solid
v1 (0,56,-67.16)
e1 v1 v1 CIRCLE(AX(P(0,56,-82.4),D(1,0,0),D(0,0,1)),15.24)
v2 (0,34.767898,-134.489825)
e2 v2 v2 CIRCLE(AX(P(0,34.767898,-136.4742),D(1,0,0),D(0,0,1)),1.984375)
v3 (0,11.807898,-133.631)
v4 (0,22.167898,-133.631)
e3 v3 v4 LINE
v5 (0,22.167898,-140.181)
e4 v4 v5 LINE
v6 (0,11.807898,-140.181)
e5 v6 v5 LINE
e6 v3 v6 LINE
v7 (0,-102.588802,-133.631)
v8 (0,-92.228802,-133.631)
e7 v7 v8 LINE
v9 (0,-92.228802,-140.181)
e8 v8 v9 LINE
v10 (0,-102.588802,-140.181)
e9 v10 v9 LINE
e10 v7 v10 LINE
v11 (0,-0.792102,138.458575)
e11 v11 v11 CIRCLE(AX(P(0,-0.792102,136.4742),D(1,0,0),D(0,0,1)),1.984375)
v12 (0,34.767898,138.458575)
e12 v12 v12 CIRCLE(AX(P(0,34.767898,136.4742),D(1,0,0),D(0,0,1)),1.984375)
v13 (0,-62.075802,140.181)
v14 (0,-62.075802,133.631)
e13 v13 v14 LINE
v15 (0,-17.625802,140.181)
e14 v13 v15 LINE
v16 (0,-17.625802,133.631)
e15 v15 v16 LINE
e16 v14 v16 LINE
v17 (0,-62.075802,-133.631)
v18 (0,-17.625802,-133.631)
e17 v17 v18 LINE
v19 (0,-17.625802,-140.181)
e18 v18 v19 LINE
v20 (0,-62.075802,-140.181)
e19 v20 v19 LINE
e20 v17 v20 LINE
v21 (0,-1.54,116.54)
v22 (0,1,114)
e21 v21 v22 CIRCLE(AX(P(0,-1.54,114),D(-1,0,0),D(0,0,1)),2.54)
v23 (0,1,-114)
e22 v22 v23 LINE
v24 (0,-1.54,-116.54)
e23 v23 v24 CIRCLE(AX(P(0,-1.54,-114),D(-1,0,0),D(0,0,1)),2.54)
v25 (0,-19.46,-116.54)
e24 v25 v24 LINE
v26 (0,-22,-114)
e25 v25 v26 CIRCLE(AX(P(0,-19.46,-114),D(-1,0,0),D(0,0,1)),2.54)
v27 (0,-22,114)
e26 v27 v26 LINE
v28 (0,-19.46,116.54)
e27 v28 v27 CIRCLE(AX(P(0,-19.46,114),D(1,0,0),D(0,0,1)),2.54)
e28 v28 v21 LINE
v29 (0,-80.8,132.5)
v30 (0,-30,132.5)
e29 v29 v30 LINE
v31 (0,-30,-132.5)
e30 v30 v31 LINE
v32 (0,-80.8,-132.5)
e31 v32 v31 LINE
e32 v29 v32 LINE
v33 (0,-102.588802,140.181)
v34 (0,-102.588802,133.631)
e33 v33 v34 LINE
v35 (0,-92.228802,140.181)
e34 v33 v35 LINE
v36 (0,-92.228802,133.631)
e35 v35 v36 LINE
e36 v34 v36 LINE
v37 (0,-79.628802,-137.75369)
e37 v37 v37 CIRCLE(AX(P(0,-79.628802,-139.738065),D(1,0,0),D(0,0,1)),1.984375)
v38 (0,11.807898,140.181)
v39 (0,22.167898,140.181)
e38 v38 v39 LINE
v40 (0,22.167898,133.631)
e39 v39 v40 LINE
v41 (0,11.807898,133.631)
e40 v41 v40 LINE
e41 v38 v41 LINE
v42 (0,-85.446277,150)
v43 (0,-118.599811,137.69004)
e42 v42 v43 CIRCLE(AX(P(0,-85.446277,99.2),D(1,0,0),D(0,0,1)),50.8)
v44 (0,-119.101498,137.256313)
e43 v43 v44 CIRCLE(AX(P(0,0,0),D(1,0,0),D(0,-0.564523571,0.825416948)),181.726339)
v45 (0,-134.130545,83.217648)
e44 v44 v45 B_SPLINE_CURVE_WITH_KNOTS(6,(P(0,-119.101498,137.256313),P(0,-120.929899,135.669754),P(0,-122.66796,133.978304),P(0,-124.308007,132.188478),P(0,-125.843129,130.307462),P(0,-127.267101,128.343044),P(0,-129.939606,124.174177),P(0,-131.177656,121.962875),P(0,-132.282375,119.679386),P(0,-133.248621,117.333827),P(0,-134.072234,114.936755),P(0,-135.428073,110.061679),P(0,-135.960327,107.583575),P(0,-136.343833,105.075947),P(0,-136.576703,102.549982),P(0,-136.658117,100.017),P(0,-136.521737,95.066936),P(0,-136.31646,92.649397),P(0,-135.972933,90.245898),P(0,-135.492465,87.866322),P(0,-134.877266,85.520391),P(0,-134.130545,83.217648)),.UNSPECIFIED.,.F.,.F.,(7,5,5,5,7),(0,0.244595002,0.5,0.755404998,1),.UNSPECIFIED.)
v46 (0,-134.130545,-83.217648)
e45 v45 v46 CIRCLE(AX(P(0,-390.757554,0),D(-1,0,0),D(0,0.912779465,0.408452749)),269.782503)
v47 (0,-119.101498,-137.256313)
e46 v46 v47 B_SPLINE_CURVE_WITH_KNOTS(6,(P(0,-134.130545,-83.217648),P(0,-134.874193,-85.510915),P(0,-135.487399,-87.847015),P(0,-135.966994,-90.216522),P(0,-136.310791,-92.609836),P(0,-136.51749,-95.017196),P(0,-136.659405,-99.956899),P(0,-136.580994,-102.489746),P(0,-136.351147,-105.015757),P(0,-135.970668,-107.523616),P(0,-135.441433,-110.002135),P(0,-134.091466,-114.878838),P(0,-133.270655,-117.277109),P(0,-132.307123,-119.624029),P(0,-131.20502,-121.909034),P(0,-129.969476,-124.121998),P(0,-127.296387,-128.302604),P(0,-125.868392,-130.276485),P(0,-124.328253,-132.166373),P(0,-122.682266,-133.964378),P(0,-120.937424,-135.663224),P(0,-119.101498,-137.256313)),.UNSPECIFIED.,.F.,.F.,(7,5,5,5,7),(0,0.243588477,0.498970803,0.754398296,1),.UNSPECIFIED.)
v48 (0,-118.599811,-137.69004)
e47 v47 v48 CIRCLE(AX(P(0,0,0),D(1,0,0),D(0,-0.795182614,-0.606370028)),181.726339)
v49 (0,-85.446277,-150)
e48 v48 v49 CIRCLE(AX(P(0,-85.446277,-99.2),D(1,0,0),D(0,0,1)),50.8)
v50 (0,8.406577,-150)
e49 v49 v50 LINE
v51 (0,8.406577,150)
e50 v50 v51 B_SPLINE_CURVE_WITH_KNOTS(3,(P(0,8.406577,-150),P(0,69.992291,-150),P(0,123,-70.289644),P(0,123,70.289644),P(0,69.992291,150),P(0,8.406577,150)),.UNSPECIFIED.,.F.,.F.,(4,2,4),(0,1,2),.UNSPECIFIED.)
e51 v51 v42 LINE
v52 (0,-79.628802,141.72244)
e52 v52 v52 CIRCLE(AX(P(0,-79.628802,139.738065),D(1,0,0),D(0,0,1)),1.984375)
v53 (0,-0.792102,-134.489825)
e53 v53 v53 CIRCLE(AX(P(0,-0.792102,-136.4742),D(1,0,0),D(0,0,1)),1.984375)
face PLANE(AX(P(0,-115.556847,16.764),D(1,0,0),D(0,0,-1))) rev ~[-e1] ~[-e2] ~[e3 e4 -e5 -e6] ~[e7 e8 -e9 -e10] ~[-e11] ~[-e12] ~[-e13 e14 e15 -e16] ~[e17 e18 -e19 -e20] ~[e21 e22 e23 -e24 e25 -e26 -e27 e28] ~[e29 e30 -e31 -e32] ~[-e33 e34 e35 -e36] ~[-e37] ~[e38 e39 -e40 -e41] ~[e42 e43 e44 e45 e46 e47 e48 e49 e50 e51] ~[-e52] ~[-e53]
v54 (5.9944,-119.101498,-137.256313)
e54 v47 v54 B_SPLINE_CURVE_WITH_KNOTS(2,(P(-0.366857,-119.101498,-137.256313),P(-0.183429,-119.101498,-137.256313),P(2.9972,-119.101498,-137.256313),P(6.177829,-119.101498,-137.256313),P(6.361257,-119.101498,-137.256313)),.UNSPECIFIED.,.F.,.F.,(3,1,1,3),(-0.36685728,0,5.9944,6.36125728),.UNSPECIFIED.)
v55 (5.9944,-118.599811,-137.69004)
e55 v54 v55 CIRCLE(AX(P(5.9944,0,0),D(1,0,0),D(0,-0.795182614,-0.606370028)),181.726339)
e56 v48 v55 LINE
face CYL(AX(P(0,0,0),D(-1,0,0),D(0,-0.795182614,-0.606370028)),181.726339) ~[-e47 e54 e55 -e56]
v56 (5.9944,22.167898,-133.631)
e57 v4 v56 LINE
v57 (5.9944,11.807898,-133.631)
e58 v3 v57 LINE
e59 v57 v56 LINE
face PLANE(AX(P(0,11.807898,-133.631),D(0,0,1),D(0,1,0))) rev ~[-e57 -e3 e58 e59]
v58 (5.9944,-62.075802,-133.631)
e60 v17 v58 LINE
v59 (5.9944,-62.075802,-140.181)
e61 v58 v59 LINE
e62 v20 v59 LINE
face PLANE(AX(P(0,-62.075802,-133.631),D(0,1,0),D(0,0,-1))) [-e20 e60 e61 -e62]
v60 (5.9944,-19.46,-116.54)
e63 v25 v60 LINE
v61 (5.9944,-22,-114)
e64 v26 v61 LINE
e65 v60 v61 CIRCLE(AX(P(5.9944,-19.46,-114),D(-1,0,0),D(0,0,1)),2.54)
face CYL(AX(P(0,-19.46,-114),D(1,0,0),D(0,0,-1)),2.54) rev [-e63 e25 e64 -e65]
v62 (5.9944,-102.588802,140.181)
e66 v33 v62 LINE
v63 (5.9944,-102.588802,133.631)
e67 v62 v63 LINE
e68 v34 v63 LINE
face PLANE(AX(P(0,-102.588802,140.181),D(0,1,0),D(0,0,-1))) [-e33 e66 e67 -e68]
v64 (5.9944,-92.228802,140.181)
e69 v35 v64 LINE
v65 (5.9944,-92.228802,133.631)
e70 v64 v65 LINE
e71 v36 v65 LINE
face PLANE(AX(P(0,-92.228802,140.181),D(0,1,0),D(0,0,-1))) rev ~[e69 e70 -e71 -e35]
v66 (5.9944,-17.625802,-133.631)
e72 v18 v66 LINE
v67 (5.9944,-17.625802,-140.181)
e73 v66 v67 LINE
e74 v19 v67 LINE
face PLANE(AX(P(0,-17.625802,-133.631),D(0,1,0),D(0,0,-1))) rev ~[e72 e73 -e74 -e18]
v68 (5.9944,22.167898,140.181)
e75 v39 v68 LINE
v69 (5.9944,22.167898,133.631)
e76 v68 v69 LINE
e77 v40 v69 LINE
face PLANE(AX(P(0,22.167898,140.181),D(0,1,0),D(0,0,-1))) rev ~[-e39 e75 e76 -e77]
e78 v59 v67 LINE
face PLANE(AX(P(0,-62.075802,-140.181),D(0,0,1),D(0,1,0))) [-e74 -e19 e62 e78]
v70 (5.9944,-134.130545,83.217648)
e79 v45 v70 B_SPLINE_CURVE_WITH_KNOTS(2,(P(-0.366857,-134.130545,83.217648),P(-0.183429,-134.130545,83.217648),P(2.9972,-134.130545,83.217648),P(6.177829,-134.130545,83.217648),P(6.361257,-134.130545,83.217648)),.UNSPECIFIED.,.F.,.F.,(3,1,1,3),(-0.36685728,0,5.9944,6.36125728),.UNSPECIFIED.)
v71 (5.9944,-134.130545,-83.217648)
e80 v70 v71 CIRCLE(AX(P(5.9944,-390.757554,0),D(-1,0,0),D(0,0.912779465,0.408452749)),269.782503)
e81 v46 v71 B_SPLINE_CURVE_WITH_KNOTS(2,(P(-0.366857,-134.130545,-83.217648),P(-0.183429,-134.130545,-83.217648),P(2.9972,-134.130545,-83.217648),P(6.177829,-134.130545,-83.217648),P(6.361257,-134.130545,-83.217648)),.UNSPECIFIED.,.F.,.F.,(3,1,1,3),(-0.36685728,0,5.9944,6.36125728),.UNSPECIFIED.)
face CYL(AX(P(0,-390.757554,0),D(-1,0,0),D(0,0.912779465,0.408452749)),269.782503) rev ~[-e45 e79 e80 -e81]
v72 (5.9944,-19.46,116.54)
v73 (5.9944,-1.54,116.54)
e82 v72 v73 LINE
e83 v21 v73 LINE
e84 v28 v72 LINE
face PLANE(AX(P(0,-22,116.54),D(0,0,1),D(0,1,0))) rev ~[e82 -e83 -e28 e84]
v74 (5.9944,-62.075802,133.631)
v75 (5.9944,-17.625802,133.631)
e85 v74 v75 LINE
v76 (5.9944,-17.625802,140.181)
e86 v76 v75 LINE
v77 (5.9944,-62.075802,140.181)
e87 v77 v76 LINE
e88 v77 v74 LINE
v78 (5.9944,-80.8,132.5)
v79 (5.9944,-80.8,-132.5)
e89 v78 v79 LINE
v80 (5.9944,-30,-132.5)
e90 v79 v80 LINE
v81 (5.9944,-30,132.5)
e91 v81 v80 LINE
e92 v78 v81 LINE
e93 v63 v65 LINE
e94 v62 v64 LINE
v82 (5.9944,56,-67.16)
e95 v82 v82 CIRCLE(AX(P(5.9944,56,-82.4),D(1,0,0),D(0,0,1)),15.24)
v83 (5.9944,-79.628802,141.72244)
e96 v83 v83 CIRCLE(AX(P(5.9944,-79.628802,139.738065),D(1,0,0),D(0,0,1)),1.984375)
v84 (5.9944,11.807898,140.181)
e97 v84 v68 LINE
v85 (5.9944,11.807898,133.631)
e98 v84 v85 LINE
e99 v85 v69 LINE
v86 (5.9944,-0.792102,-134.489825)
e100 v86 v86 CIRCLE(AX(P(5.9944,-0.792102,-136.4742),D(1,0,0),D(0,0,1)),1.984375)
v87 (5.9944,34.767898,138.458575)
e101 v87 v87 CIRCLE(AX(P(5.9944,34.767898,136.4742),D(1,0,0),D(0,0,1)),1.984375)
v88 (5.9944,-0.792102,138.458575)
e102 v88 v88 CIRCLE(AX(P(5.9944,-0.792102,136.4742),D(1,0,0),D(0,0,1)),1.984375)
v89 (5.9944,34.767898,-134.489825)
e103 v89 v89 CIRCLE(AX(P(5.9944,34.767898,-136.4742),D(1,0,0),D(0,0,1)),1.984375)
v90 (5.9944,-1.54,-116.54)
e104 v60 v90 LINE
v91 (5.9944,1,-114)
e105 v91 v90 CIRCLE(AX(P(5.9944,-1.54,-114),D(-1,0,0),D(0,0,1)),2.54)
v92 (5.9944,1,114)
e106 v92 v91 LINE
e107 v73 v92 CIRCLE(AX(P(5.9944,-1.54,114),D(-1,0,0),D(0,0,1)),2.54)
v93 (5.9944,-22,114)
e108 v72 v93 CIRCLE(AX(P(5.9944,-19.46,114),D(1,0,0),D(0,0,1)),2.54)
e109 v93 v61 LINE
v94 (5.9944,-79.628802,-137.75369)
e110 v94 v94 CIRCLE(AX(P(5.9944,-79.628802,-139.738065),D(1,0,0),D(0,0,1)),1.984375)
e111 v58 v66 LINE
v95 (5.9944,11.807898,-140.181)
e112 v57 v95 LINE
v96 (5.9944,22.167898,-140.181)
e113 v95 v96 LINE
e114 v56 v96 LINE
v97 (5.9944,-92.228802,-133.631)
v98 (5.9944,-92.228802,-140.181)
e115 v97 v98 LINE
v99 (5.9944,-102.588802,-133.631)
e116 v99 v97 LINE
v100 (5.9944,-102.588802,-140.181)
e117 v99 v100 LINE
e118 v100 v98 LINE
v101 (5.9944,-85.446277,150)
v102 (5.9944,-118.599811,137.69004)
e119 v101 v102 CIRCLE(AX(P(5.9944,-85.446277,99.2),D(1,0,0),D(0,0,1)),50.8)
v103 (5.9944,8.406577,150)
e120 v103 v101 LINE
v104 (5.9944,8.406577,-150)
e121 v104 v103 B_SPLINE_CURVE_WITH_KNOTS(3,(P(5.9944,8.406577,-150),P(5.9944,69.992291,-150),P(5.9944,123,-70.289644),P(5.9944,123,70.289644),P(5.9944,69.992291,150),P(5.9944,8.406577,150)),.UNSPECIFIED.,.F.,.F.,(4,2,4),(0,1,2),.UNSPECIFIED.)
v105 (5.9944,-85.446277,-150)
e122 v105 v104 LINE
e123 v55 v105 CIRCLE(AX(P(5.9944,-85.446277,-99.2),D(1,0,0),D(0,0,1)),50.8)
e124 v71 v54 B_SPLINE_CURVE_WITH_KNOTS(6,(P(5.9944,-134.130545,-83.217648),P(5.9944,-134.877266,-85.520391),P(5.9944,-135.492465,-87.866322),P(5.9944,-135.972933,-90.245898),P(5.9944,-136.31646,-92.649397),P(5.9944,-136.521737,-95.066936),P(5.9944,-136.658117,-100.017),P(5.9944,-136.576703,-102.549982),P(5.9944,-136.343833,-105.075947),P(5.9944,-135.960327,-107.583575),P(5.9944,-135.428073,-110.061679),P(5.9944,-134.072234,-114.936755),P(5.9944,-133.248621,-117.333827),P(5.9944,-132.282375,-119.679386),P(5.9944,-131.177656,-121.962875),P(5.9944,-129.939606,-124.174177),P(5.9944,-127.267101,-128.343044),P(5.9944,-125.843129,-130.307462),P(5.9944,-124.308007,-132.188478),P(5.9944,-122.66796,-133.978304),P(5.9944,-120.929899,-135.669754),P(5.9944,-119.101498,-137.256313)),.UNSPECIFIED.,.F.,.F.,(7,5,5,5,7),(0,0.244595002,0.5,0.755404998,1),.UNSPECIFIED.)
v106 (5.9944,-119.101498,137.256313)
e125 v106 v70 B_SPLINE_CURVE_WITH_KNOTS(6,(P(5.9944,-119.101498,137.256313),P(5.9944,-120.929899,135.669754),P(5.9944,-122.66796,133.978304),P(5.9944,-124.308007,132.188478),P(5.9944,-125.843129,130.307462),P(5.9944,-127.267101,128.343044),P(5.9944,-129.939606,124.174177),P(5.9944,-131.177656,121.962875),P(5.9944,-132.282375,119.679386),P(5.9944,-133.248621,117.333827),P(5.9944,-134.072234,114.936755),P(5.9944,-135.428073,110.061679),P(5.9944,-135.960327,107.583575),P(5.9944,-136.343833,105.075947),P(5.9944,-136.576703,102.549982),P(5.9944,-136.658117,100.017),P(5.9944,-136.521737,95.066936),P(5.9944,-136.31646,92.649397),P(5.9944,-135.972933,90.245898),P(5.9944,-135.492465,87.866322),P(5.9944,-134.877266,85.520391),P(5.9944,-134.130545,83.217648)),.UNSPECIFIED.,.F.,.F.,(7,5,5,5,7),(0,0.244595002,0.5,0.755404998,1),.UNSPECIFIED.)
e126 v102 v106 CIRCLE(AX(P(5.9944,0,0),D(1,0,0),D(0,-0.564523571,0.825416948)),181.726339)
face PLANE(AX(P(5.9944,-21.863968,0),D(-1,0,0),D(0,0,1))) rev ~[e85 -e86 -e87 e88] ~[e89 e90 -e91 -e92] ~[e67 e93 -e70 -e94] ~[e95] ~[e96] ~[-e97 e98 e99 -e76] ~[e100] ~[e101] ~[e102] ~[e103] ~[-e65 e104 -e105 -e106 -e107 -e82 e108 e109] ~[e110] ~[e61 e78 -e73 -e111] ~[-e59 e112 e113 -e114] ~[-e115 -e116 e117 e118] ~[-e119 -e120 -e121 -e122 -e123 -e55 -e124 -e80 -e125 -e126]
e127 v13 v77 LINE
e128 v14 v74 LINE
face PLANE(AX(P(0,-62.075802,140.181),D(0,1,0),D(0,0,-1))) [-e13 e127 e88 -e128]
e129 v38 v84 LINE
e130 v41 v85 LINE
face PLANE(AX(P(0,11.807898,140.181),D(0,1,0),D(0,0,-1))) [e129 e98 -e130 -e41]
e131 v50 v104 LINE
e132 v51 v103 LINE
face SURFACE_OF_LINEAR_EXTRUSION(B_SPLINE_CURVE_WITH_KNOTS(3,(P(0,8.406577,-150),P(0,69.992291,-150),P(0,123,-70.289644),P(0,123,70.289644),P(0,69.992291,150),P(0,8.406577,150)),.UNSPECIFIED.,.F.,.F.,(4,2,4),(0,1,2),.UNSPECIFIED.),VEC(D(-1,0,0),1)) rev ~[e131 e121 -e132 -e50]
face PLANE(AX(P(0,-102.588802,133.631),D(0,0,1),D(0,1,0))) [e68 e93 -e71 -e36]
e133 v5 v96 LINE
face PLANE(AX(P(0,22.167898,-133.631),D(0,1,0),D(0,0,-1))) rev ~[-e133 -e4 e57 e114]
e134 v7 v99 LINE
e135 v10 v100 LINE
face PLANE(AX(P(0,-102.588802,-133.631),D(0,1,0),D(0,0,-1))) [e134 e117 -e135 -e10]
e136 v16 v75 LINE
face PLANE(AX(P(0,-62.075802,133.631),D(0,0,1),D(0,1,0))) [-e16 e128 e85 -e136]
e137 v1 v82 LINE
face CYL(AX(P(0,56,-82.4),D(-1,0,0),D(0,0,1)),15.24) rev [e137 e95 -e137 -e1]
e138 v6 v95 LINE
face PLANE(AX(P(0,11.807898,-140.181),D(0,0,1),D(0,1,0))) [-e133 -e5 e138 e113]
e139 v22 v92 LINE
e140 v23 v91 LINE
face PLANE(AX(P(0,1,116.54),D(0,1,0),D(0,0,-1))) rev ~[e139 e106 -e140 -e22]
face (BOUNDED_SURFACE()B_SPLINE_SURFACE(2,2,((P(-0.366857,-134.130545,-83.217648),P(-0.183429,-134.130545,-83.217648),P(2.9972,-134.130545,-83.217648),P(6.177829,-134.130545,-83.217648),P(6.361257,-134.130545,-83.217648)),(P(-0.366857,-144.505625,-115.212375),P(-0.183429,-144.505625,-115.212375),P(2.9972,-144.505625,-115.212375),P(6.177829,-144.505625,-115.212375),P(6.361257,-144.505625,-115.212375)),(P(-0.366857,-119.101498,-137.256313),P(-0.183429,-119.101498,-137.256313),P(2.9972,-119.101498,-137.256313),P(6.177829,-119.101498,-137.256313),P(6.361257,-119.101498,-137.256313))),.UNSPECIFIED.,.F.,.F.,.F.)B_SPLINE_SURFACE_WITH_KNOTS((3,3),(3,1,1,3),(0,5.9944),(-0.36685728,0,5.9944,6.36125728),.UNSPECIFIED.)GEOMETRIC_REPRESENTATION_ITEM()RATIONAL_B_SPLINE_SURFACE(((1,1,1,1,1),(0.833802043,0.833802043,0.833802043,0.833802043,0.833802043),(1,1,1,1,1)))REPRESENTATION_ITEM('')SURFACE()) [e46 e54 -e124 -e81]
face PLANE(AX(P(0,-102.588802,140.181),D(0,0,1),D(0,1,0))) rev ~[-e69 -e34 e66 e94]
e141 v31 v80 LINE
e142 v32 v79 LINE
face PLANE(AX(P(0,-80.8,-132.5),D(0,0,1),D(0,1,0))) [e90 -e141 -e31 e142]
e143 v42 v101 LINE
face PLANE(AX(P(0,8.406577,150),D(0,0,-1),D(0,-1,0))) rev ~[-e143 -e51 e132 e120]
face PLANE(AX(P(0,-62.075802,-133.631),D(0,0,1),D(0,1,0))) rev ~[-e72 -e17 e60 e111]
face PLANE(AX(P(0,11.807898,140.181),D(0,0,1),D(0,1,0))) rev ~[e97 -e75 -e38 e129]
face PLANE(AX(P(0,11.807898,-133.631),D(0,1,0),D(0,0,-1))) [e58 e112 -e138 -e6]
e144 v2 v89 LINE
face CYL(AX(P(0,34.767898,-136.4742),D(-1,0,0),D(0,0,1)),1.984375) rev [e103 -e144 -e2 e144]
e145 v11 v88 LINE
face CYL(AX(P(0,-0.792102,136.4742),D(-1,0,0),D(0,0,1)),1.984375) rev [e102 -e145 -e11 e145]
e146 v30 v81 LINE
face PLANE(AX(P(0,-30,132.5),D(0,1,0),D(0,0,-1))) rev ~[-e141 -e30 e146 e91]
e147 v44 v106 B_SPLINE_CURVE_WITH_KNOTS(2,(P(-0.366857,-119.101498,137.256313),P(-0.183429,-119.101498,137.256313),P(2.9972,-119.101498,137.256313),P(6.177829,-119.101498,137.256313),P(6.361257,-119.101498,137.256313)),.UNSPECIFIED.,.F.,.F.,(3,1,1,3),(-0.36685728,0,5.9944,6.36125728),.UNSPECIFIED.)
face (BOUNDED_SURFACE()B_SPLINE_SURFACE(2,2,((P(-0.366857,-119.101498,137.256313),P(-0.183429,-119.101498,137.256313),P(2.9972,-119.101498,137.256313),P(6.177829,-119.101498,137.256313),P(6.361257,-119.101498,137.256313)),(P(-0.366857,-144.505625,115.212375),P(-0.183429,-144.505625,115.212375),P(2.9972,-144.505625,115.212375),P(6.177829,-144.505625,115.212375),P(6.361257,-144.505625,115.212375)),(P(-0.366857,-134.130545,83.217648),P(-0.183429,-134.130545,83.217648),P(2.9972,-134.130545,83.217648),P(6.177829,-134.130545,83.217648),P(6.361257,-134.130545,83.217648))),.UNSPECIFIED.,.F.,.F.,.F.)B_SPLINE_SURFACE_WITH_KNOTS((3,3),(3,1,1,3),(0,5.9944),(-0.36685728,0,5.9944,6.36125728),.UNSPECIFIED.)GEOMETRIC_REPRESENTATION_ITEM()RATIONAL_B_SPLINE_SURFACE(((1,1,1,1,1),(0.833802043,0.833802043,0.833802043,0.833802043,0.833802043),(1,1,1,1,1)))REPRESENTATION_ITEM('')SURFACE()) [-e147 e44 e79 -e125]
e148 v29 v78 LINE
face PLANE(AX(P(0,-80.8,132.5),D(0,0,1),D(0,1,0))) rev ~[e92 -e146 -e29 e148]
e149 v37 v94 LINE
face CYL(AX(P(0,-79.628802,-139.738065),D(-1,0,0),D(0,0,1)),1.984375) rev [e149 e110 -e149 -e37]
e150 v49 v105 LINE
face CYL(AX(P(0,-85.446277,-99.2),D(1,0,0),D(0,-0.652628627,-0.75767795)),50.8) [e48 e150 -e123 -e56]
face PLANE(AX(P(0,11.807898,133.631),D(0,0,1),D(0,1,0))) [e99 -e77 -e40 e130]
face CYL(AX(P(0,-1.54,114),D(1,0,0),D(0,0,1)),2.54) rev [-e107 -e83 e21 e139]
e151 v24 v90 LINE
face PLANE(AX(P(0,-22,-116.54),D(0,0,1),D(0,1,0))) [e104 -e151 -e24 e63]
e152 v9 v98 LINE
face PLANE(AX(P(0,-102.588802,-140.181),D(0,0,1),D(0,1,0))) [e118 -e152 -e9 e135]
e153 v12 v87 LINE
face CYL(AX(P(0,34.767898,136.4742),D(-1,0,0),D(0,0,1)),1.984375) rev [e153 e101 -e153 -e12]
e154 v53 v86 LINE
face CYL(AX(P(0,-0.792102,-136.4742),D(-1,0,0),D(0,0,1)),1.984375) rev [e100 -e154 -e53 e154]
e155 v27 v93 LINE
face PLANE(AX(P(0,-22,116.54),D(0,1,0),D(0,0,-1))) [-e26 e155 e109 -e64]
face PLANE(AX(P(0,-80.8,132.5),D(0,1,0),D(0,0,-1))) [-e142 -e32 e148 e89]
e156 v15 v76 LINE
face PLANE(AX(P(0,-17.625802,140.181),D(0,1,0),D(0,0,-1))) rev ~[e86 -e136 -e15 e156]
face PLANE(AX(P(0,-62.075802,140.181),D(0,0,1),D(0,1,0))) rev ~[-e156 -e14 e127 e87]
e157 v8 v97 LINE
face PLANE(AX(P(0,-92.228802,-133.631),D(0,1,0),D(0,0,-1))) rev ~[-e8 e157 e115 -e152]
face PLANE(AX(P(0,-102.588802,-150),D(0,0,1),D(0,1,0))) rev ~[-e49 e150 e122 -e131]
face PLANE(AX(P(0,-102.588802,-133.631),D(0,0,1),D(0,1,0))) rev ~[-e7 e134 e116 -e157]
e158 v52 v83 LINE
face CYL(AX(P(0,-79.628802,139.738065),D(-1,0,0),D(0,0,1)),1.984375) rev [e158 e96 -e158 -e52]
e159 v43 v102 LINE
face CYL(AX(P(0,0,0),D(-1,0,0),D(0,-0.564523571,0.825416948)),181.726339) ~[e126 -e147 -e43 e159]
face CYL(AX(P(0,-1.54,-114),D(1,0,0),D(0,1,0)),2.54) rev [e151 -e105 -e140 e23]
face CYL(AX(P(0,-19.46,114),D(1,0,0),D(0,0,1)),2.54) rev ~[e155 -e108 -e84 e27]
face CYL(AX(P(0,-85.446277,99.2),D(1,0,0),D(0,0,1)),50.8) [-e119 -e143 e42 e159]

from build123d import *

# Parameters (mm, degrees)
SKETCH1_R      = 2.54
SKETCH1_W      = 6.55
SKETCH1_H      = 10.36
SKETCH1_R_2    = 1.984375
SKETCH1_H_2    = 44.45
SKETCH1_W_2    = 265
SKETCH1_H_3    = 50.8
SKETCH1_W_3    = 233.08
SKETCH1_H_4    = 23
SKETCH1_R_3    = 15.24
EXTRUDE1_DEPTH = 5.9944
FILLET3_R      = 50.8
FILLET4_R      = 50.8
FILLET5_R      = 50.8
FILLET6_R      = 50.8
FILLET12_R     = 2.54
FILLET13_R     = 2.54
FILLET14_R     = 2.54
FILLET15_R     = 2.54


with BuildPart() as part:
    # Sketch1 → Extrude1 (new body)
    # profile 1 of 2: a face of its own
    with BuildSketch(Plane(origin=(0, 0, 0), x_dir=(0, 0, -1), z_dir=(1, 0, 0))):
        with BuildLine():
            add(Edge.make_bspline(
                [(-150, 8.40657677), (-150, 69.992291428), (-70.289643695, 123), (0, 123)],
                knots=[0, 0, 0, 0, 1, 1, 1, 1], degree=3))
            Line((-150, 8.40657677), (-150, -102.588801706))
            ThreePointArc((-150, -102.588801706), (-131.77407574, -125.140142234), (-110.193405103, -144.505625175))
            ThreePointArc((-110.193405103, -144.505625175), (0, -120.975050934), (110.193405103, -144.505625175))
            ThreePointArc((110.193405103, -144.505625175), (131.77407574, -125.140142234), (150, -102.588801706))
            Line((150, -102.588801706), (150, 8.40657677))
            add(Edge.make_bspline(
                [(150, 8.40657677), (150, 69.992291428), (70.289643695, 123), (0, 123)],
                knots=[0, 0, 0, 0, 1, 1, 1, 1], degree=3))
        make_face()
        with Locations((-16.764, -115.55684695)):
            Circle(SKETCH1_R, mode=Mode.SUBTRACT)
        with Locations((-136.906, -97.408801706)):
            Rectangle(SKETCH1_W, SKETCH1_H, mode=Mode.SUBTRACT)
        with Locations(Location((-139.738064794, -79.628801706, 0), (0, 0, 180))):
            Circle(SKETCH1_R_2, mode=Mode.SUBTRACT)
        with Locations((-136.906, -39.850801706)):
            Rectangle(SKETCH1_W, SKETCH1_H_2, mode=Mode.SUBTRACT)
        with Locations((0, -55.4)):
            Rectangle(SKETCH1_W_2, SKETCH1_H_3, mode=Mode.SUBTRACT)
        with Locations((136.906, -97.408801706)):
            Rectangle(SKETCH1_W, SKETCH1_H, mode=Mode.SUBTRACT)
        with Locations(Location((139.738064794, -79.628801706, 0), (0, 0, 180))):
            Circle(SKETCH1_R_2, mode=Mode.SUBTRACT)
        with Locations((136.906, -39.850801706)):
            Rectangle(SKETCH1_W, SKETCH1_H_2, mode=Mode.SUBTRACT)
        with Locations(Location((-136.4742, -0.792101706, 0), (0, 0, 180))):
            Circle(SKETCH1_R_2, mode=Mode.SUBTRACT)
        with Locations((-136.906, 16.987898294)):
            Rectangle(SKETCH1_W, SKETCH1_H, mode=Mode.SUBTRACT)
        with Locations(Location((-136.4742, 34.767898294, 0), (0, 0, 180))):
            Circle(SKETCH1_R_2, mode=Mode.SUBTRACT)
        with Locations((0, -10.5)):
            Rectangle(SKETCH1_W_3, SKETCH1_H_4, mode=Mode.SUBTRACT)
        with Locations(Location((136.4742, -0.792101706, 0), (0, 0, 180))):
            Circle(SKETCH1_R_2, mode=Mode.SUBTRACT)
        with Locations((136.906, 16.987898294)):
            Rectangle(SKETCH1_W, SKETCH1_H, mode=Mode.SUBTRACT)
        with Locations(Location((136.4742, 34.767898294, 0), (0, 0, 180))):
            Circle(SKETCH1_R_2, mode=Mode.SUBTRACT)
        with Locations(Location((82.4, 56, 0), (0, 0, 180))):
            Circle(SKETCH1_R_3, mode=Mode.SUBTRACT)
    # profile 2 of 2: a face of its own
    with BuildSketch(Plane(origin=(0, 0, 0), x_dir=(0, 0, -1), z_dir=(1, 0, 0))):
        with Locations((-16.764, -115.55684695)):
            Circle(SKETCH1_R)
    extrude(amount=EXTRUDE1_DEPTH)

    # Fillet3
    fillet3_edges = [part.edges().sort_by_distance(p)[0] for p in [
        (2.9972, -102.588801706, 150),
    ]]
    fillet(fillet3_edges, radius=FILLET3_R)

    # Fillet4
    fillet4_edges = [part.edges().sort_by_distance(p)[0] for p in [
        (2.9972, -144.505625175, 110.193405103),
    ]]
    fillet(fillet4_edges, radius=FILLET4_R)

    # Fillet5
    fillet5_edges = [part.edges().sort_by_distance(p)[0] for p in [
        (2.9972, -144.505625175, -110.193405103),
    ]]
    fillet(fillet5_edges, radius=FILLET5_R)

    # Fillet6
    fillet6_edges = [part.edges().sort_by_distance(p)[0] for p in [
        (2.9972, -102.588801706, -150),
    ]]
    fillet(fillet6_edges, radius=FILLET6_R)

    # Fillet12
    fillet12_edges = [part.edges().sort_by_distance(p)[0] for p in [
        (2.9972, -22, 116.54),
    ]]
    fillet(fillet12_edges, radius=FILLET12_R)

    # Fillet13
    fillet13_edges = [part.edges().sort_by_distance(p)[0] for p in [
        (2.9972, 1, 116.54),
    ]]
    fillet(fillet13_edges, radius=FILLET13_R)

    # Fillet14
    fillet14_edges = [part.edges().sort_by_distance(p)[0] for p in [
        (2.9972, 1, -116.54),
    ]]
    fillet(fillet14_edges, radius=FILLET14_R)

    # Fillet15
    fillet15_edges = [part.edges().sort_by_distance(p)[0] for p in [
        (2.9972, -22, -116.54),
    ]]
    fillet(fillet15_edges, radius=FILLET15_R)


solid = part.part
